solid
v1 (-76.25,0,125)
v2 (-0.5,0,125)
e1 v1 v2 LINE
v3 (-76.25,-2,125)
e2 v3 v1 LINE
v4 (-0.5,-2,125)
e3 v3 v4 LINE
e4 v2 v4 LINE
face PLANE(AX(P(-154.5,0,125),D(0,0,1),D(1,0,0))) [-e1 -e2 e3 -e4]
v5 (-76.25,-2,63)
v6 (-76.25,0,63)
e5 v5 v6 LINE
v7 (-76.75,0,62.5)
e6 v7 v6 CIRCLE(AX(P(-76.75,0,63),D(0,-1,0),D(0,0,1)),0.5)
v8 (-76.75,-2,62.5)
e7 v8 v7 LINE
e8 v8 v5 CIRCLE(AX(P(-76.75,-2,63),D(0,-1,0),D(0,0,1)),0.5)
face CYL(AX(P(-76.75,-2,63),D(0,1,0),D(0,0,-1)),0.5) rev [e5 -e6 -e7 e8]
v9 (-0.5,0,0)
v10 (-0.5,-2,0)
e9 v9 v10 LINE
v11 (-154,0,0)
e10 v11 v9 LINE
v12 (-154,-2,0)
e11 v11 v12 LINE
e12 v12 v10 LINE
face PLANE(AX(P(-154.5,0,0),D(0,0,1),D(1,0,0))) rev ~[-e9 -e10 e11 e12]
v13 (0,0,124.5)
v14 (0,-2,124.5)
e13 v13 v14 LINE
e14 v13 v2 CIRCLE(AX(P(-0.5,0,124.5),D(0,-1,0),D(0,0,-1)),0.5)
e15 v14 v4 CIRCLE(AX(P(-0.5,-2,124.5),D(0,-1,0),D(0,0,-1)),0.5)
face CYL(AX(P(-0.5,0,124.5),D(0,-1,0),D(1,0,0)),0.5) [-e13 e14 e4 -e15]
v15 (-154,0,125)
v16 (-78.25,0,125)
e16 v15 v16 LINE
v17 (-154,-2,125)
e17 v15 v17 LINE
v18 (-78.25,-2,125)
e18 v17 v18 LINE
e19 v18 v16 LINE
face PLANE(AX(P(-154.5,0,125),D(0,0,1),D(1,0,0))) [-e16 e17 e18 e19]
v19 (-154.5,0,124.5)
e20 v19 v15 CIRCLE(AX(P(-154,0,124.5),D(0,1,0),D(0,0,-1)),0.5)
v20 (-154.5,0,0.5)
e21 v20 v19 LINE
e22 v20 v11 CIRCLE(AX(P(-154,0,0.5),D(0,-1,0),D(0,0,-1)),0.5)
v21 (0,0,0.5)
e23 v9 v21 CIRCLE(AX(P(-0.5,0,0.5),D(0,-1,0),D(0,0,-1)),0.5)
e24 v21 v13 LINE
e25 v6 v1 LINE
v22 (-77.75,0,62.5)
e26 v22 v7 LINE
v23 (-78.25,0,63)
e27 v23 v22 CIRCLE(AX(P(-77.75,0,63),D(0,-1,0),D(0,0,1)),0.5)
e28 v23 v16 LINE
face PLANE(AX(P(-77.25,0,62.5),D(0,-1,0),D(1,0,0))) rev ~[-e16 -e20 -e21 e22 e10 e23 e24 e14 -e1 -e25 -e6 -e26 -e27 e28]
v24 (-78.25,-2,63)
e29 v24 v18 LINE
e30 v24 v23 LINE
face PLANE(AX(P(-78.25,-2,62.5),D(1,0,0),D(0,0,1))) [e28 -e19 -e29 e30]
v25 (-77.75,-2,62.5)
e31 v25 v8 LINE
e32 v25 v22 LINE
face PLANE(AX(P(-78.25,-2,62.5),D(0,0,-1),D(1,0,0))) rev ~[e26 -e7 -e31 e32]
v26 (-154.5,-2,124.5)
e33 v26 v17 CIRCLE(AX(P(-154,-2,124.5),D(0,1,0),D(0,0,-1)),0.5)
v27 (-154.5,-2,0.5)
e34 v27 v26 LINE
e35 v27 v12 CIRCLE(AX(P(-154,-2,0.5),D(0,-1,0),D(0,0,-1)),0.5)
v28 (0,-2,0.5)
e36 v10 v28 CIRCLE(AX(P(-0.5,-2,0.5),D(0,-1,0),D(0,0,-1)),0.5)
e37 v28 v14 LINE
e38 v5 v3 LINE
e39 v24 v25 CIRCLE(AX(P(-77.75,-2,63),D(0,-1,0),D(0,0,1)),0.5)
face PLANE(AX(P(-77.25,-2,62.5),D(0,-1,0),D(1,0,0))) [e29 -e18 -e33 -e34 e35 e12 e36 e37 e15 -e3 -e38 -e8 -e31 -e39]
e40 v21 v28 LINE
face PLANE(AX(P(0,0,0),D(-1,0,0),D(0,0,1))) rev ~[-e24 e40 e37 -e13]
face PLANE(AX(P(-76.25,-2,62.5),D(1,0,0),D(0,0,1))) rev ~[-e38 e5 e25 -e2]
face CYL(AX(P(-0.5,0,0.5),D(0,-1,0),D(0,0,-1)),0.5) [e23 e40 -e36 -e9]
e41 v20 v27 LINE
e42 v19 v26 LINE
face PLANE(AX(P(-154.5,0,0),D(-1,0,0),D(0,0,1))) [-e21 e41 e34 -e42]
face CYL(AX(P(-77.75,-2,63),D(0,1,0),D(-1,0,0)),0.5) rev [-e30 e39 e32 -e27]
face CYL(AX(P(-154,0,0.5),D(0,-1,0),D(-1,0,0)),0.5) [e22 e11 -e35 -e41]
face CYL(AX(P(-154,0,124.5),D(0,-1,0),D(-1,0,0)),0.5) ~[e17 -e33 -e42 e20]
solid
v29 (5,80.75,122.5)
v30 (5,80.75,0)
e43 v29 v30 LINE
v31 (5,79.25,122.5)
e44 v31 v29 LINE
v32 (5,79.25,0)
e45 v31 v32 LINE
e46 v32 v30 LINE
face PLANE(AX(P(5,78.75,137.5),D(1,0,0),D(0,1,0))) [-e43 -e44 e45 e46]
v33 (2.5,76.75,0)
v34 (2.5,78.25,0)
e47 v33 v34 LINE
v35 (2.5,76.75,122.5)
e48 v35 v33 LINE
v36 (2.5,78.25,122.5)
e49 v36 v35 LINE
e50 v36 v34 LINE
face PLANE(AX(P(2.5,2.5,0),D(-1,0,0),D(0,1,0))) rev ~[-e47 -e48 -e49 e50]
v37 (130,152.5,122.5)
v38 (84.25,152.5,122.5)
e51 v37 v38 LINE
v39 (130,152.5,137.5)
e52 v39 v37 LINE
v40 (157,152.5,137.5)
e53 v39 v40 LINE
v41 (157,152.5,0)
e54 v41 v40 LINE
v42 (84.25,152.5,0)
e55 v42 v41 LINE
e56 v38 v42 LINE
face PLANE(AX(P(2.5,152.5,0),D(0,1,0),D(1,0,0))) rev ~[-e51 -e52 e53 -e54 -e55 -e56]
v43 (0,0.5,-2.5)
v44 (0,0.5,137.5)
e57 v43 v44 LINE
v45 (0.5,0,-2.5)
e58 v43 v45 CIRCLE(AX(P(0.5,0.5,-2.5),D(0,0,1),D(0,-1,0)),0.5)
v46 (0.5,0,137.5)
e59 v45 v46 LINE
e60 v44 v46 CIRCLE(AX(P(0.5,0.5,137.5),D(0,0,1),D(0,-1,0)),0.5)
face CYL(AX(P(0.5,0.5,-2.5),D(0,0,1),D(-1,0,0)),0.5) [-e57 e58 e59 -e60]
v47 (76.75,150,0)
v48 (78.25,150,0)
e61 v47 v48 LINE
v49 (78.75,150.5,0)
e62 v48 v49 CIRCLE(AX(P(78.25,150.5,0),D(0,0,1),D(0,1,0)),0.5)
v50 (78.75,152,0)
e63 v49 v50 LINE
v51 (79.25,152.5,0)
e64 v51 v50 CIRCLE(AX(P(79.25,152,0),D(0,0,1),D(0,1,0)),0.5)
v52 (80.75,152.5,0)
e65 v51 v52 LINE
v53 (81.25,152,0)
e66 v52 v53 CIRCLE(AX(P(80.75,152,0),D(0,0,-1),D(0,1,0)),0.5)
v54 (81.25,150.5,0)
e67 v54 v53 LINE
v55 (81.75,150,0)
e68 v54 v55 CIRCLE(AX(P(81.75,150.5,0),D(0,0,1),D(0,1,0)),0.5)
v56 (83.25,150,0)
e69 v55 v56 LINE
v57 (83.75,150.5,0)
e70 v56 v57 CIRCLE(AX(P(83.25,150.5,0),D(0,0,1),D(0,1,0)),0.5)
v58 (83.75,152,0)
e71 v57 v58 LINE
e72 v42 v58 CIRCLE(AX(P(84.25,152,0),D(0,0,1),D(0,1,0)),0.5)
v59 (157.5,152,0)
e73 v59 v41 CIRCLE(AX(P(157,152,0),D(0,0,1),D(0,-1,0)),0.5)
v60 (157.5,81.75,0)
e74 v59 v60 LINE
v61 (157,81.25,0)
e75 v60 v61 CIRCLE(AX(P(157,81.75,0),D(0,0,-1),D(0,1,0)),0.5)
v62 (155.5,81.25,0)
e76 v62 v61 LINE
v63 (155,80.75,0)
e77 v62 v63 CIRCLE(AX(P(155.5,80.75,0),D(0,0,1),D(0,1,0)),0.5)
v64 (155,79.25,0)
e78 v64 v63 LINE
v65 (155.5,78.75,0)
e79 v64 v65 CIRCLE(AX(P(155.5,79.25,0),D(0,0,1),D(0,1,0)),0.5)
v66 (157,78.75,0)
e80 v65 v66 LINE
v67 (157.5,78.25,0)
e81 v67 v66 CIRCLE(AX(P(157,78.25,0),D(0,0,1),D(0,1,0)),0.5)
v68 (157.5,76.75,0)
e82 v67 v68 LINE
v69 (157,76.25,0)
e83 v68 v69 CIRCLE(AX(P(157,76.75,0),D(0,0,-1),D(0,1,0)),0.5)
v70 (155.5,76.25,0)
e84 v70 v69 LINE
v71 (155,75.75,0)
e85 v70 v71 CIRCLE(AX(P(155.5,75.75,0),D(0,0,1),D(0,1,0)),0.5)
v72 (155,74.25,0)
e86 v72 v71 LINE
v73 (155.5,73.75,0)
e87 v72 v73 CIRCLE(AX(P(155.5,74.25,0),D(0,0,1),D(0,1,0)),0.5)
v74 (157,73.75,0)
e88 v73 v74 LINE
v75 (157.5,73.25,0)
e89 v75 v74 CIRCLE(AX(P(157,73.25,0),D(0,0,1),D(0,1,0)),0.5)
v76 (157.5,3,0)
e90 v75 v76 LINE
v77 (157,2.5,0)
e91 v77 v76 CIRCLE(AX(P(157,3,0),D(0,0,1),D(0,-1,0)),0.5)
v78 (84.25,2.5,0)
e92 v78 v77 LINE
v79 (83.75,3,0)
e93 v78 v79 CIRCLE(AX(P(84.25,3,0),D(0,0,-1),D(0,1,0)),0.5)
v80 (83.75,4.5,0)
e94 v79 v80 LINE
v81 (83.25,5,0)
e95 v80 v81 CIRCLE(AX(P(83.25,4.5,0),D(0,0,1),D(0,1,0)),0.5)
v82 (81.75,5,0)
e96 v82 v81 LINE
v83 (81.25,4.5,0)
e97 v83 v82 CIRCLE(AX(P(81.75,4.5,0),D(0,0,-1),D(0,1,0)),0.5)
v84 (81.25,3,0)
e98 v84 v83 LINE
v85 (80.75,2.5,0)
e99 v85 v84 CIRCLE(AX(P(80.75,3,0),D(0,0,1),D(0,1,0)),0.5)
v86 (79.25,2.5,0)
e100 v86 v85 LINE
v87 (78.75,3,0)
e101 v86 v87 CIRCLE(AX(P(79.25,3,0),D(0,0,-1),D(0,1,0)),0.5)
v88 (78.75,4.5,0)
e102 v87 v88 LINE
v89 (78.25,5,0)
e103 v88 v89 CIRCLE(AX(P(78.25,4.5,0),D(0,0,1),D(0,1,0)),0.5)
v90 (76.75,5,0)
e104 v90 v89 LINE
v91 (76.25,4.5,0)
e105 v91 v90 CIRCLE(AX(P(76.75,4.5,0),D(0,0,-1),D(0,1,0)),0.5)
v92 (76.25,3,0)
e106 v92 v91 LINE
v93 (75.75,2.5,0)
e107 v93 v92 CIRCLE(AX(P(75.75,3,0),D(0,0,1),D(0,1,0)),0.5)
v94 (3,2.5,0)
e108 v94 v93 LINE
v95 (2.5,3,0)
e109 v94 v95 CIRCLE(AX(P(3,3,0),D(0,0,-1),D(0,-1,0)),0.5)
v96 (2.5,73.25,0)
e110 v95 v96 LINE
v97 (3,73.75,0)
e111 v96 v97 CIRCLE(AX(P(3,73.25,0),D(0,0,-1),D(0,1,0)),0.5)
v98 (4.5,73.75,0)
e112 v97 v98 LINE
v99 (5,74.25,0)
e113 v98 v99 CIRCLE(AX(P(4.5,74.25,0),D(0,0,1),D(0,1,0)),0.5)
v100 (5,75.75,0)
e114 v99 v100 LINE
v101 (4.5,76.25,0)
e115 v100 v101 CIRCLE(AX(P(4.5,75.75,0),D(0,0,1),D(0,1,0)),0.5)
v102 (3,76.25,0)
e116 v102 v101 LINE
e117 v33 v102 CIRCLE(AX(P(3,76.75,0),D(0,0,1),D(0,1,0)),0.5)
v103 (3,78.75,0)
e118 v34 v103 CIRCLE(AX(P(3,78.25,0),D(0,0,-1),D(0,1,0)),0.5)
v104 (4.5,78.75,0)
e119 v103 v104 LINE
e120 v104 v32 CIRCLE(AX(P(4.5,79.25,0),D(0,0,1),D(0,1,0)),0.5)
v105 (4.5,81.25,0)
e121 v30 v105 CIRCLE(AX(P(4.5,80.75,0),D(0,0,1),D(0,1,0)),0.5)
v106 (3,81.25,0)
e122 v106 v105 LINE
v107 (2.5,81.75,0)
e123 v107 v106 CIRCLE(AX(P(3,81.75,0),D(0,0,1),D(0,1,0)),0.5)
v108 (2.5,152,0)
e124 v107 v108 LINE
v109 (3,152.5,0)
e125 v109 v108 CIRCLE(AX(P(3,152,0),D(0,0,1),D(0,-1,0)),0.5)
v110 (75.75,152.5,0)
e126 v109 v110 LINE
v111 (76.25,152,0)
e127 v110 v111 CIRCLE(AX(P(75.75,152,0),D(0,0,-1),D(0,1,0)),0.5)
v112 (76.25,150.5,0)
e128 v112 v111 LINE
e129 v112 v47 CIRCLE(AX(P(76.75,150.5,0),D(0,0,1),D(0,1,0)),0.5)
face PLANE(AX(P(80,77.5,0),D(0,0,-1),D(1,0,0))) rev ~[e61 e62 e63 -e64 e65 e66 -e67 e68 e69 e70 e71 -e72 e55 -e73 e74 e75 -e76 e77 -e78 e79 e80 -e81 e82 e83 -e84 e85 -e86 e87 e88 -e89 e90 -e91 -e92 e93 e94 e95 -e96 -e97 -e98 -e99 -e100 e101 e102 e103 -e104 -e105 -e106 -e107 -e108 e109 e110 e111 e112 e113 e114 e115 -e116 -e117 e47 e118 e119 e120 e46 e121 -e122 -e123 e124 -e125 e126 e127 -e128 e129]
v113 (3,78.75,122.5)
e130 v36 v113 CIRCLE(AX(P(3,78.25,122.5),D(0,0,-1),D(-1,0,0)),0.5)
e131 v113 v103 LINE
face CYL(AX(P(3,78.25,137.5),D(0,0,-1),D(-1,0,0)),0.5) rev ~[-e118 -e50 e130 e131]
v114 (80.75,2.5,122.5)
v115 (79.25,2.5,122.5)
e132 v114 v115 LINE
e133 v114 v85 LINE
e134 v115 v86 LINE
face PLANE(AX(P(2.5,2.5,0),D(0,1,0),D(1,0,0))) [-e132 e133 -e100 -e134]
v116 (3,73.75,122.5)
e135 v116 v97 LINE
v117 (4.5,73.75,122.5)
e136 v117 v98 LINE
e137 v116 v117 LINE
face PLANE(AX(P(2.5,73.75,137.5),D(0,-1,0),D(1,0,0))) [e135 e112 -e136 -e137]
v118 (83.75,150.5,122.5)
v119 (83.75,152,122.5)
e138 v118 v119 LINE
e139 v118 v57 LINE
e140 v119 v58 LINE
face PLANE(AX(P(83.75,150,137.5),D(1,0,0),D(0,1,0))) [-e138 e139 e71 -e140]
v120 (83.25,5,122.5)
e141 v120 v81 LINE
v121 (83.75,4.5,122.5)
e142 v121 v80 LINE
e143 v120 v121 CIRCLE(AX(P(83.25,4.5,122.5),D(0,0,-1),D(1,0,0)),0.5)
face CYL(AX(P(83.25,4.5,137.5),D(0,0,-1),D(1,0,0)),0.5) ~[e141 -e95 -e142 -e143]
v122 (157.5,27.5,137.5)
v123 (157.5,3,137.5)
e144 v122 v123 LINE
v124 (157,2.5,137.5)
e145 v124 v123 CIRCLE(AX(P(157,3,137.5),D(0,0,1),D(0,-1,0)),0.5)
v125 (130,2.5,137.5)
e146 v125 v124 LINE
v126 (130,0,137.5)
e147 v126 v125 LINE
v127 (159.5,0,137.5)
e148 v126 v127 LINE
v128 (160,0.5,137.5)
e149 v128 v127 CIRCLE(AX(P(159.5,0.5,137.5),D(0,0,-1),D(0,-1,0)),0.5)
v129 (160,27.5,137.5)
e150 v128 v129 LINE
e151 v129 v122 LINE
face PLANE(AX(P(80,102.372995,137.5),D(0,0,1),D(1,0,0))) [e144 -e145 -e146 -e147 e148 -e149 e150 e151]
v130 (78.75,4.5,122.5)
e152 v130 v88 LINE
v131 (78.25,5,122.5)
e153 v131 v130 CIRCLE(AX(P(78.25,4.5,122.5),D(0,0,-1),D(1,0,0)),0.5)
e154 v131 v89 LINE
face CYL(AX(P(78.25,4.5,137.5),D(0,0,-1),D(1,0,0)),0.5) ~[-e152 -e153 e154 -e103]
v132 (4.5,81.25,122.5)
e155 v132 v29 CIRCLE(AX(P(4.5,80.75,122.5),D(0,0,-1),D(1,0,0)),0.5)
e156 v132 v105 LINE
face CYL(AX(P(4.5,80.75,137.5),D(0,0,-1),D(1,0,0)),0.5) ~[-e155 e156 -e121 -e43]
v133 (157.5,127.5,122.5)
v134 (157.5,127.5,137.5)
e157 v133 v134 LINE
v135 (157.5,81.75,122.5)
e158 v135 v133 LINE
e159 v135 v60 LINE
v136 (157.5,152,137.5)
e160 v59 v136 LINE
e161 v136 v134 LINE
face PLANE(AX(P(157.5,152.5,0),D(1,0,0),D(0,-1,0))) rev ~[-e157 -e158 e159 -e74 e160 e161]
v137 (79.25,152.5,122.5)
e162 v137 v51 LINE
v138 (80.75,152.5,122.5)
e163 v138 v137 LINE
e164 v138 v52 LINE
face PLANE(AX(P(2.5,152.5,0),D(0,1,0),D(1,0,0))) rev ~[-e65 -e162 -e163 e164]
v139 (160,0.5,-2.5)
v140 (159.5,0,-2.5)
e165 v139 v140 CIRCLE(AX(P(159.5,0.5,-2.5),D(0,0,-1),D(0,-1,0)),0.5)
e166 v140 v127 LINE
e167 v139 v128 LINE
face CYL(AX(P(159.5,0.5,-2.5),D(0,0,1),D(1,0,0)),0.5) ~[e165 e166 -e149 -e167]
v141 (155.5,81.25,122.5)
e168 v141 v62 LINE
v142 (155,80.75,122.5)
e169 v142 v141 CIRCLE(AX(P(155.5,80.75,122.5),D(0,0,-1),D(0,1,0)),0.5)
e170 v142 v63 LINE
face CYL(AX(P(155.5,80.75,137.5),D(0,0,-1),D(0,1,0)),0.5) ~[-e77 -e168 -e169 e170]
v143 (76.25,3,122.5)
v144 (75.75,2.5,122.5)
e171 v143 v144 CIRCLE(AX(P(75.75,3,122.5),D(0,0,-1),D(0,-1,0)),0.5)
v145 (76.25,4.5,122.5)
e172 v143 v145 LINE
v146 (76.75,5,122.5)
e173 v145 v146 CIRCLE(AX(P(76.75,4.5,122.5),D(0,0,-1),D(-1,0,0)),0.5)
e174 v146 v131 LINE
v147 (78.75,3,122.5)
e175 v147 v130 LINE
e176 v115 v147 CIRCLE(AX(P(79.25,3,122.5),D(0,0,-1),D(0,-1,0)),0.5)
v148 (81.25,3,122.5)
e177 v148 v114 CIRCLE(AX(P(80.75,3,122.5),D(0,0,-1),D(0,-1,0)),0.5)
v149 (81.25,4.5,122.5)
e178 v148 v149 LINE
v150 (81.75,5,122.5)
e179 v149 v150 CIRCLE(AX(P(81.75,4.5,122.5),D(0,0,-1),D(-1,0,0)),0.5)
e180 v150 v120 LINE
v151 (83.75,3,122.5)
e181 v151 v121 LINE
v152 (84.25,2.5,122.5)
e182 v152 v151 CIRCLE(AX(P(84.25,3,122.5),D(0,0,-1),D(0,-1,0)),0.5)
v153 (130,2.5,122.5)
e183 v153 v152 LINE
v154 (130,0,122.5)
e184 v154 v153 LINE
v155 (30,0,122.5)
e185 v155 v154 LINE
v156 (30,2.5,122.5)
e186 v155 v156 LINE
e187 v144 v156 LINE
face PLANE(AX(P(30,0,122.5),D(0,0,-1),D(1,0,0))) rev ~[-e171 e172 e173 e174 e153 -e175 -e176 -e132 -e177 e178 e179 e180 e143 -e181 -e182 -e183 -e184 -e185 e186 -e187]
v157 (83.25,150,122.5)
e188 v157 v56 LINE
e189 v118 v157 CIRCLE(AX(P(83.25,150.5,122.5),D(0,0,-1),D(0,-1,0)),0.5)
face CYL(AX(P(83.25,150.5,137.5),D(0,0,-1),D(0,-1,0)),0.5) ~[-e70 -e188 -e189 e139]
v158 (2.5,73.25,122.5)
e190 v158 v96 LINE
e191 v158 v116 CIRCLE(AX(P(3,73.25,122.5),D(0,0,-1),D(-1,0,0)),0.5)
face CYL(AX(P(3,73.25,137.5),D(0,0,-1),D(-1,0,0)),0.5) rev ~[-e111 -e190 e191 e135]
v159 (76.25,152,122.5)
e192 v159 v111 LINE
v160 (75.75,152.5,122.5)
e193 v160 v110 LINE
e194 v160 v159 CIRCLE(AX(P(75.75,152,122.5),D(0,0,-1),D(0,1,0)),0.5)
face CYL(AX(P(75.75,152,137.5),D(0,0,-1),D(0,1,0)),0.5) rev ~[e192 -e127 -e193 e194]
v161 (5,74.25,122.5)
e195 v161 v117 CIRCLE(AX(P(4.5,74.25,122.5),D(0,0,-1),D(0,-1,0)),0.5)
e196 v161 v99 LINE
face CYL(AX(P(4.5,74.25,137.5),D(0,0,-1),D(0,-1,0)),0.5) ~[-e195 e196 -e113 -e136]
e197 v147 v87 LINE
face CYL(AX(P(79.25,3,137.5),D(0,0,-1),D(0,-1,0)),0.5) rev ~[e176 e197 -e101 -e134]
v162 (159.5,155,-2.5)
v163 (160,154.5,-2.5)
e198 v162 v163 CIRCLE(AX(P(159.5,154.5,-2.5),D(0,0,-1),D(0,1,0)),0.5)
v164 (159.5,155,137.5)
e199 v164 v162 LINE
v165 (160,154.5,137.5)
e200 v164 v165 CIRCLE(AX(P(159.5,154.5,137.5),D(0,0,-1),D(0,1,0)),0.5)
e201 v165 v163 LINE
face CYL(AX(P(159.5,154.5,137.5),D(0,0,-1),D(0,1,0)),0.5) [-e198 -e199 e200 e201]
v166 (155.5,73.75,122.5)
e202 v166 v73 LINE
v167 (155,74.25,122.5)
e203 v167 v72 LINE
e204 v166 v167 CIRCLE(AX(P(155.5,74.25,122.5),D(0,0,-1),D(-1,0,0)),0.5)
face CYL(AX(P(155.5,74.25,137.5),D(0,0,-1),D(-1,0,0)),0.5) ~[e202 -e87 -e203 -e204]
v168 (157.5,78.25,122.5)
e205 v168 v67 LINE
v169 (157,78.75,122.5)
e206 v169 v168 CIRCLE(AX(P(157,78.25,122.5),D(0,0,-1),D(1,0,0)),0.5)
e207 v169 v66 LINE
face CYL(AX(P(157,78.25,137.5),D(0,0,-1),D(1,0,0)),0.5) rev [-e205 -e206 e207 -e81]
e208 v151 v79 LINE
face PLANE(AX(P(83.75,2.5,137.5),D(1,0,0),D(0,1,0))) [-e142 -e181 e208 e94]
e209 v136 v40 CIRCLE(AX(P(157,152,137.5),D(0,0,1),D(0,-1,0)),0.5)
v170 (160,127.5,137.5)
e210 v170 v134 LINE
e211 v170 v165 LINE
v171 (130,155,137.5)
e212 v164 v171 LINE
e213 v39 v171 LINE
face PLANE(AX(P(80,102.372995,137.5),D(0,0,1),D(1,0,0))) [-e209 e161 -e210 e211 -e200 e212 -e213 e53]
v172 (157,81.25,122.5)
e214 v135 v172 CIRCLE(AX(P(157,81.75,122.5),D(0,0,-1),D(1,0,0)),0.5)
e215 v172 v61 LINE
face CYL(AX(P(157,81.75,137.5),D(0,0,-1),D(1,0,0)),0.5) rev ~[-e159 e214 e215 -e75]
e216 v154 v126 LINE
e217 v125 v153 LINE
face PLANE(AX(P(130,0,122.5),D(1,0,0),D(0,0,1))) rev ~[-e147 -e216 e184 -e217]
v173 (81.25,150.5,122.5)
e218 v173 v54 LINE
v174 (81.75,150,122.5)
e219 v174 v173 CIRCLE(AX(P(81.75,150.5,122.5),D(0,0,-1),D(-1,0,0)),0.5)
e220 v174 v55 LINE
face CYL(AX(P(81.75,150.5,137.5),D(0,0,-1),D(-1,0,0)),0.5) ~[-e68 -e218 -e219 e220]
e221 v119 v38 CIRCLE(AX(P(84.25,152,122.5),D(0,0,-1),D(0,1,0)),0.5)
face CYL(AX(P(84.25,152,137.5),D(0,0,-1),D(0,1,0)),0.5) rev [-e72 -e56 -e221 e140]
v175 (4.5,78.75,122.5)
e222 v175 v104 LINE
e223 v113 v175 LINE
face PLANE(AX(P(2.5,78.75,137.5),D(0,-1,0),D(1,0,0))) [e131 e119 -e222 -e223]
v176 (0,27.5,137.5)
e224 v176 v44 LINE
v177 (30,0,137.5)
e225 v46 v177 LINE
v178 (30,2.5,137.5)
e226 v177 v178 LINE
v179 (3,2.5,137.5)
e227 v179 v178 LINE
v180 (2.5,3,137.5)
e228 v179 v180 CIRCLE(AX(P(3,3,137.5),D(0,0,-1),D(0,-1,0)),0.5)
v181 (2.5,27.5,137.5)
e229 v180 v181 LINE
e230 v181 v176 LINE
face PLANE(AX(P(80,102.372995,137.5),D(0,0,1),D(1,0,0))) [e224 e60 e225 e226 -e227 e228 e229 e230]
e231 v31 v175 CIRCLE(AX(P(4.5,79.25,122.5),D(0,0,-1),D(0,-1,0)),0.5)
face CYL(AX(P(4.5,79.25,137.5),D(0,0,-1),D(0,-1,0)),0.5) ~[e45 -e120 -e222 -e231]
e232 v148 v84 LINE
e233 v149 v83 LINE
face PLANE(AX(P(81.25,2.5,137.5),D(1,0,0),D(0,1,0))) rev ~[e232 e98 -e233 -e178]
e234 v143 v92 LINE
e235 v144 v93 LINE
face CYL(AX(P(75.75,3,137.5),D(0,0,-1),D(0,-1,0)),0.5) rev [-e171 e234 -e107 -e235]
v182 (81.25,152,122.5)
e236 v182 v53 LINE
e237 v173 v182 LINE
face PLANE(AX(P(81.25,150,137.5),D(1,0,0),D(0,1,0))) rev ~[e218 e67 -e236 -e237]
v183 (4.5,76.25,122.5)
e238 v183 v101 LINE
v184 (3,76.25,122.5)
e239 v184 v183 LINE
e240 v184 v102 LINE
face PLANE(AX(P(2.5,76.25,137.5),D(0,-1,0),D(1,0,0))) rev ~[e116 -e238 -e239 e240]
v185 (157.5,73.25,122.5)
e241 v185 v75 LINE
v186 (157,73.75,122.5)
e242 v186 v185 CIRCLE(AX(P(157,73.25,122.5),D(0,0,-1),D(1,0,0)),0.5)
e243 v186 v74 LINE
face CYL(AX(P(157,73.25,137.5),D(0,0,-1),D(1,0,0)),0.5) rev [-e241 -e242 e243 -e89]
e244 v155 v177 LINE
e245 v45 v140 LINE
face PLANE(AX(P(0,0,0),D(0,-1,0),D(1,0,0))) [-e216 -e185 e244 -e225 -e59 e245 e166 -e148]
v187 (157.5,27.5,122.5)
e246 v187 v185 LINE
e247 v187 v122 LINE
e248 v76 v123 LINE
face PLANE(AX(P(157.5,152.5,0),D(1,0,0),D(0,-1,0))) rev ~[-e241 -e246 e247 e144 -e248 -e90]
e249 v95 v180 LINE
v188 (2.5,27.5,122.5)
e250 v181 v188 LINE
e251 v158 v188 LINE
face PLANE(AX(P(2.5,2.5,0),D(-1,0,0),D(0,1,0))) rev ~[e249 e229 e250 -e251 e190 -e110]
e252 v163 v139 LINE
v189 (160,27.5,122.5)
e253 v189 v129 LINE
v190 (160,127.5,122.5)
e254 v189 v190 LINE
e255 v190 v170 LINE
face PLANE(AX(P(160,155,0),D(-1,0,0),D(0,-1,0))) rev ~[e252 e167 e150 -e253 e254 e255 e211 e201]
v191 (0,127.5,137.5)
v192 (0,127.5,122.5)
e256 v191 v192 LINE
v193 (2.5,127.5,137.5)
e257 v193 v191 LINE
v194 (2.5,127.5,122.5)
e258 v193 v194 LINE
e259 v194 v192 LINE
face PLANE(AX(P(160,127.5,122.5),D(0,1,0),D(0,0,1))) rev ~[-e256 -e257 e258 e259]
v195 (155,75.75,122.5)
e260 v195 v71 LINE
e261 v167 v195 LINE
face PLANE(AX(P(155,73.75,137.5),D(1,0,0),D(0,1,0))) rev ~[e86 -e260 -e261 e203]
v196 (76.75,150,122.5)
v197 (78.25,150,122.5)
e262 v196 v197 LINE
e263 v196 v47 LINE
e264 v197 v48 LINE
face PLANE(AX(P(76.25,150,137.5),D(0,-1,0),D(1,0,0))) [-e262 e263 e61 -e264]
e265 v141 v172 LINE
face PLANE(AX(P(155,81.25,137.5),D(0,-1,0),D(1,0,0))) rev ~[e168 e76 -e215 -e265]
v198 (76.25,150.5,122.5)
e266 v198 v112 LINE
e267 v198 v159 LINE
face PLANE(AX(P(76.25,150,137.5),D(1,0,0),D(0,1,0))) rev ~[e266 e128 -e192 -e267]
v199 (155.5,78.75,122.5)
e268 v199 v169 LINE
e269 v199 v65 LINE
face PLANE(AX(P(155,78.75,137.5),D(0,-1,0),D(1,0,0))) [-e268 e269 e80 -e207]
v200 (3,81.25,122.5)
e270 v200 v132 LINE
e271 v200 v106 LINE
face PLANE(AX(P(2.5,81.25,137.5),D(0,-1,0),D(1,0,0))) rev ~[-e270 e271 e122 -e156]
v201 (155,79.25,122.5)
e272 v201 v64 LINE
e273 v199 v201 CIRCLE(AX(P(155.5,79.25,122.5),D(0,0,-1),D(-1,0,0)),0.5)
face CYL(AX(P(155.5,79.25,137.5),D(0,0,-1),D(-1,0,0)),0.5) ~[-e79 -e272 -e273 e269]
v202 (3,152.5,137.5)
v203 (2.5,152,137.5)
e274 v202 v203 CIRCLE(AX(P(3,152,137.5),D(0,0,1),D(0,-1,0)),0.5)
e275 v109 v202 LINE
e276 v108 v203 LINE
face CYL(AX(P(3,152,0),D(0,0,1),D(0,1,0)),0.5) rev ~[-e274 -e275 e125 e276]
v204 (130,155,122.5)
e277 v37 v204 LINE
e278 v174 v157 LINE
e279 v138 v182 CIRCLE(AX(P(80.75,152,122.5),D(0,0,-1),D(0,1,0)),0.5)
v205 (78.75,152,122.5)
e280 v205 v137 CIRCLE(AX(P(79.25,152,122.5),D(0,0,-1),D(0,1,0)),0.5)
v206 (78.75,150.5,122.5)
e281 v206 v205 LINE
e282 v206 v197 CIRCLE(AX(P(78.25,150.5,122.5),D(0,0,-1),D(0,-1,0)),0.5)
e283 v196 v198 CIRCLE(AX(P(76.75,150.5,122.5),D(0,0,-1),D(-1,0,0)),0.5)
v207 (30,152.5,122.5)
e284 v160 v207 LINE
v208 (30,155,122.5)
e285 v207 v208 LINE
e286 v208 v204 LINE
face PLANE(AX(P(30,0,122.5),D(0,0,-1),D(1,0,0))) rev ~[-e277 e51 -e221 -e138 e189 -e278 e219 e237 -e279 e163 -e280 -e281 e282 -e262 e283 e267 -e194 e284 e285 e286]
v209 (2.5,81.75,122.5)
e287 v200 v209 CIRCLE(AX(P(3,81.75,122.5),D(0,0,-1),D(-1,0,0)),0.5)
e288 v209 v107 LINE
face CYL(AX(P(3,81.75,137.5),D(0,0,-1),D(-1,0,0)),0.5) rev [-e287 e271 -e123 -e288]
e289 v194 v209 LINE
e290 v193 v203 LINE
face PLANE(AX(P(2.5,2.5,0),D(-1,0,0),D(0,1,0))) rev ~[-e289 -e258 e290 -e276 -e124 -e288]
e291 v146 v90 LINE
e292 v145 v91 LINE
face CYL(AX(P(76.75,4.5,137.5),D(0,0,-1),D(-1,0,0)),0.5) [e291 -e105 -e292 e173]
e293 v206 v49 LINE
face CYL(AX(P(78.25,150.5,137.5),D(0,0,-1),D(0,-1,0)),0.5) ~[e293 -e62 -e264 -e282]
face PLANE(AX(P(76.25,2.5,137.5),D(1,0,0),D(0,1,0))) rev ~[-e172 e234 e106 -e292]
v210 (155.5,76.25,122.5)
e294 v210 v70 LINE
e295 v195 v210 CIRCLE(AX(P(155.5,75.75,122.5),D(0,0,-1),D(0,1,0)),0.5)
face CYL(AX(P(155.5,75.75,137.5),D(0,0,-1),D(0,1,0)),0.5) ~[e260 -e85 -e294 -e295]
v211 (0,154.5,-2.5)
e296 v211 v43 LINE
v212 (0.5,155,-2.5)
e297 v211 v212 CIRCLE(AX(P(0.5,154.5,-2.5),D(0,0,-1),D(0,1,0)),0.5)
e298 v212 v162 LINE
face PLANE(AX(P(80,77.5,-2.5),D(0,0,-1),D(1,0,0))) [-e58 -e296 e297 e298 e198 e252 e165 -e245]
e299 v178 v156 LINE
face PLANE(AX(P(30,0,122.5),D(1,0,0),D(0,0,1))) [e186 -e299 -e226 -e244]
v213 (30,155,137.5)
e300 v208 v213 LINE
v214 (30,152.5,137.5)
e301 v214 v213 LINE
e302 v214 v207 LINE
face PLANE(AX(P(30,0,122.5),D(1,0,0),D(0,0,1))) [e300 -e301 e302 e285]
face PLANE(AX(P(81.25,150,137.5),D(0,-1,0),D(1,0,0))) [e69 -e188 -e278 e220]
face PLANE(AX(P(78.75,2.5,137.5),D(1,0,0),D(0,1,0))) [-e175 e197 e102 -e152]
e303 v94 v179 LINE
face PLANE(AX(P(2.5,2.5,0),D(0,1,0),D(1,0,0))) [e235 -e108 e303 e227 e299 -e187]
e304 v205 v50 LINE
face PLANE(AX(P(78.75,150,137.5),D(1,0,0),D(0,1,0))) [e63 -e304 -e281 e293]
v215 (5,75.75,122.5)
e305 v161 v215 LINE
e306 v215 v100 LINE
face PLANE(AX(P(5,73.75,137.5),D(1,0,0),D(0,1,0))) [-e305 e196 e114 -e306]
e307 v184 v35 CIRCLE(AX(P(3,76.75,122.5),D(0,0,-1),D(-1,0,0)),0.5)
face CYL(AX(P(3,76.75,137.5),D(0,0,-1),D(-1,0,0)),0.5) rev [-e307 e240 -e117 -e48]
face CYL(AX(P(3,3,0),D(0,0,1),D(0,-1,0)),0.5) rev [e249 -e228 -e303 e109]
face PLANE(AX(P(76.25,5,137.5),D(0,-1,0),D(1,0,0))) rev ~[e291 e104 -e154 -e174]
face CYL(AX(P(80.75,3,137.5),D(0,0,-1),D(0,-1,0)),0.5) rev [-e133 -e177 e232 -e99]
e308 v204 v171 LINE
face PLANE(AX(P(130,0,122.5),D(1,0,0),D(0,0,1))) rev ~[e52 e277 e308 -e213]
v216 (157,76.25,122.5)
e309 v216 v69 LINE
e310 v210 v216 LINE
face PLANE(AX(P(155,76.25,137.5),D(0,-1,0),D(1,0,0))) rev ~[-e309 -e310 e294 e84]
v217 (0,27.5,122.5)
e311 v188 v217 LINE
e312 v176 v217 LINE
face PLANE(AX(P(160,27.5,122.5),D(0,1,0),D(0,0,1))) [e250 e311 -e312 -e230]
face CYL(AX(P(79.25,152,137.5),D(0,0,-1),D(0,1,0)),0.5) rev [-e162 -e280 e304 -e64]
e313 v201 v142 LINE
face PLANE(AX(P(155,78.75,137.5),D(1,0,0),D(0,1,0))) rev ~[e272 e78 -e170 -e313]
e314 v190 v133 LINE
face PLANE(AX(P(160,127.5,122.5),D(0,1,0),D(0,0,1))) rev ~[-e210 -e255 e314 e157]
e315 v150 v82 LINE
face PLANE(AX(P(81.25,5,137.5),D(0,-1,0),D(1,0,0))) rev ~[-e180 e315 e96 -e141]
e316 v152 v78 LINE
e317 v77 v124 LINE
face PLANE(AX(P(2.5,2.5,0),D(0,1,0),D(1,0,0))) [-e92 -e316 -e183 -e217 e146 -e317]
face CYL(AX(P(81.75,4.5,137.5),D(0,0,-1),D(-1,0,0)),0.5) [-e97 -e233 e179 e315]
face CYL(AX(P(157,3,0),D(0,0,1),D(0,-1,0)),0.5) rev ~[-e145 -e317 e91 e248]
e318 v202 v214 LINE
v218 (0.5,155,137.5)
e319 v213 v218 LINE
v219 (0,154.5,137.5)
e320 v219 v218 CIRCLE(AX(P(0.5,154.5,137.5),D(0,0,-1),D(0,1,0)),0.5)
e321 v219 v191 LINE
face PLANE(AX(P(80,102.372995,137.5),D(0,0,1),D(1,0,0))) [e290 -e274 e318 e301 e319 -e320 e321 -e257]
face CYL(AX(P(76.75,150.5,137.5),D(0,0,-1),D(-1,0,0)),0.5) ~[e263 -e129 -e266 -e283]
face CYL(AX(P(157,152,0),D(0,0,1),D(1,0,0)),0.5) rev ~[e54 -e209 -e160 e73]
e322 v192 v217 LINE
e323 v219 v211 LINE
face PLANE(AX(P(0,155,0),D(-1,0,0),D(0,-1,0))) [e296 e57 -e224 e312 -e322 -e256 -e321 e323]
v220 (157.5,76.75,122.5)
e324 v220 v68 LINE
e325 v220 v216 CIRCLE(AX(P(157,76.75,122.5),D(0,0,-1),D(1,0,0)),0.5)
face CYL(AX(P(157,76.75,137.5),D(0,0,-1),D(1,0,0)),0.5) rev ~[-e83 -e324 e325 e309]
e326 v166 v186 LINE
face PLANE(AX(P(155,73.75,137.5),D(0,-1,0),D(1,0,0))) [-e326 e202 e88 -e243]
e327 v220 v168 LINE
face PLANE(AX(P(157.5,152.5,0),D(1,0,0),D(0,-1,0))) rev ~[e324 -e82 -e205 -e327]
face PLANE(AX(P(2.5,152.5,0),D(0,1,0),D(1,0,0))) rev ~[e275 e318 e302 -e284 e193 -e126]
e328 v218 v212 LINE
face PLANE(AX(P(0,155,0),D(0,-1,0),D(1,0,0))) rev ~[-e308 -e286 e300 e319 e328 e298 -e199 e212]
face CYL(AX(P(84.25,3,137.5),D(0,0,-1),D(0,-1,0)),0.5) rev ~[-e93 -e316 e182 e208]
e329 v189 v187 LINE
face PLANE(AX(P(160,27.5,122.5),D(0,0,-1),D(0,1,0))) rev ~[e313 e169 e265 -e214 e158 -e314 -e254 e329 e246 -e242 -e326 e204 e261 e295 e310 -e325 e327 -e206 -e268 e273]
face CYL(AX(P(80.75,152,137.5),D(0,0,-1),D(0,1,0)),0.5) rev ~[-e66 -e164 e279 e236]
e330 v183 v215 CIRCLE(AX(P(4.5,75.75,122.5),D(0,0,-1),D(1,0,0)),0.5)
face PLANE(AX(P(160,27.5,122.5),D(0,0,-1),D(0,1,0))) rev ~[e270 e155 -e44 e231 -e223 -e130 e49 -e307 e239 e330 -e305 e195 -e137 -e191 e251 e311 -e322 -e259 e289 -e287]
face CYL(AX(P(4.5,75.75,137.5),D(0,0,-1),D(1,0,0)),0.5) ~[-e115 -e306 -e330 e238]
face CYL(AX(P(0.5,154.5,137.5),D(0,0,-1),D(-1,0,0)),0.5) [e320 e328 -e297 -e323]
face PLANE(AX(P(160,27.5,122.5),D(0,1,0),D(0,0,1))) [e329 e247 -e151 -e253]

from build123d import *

# Parameters (mm, degrees)
F0_W      = 155
F0_H      = 2.5
F1_DEPTH  = 137.5
F2_W      = 160
F2_H      = 155
F2_W_2    = 155
F2_H_2    = 150
F3_DEPTH  = 2.5
F4_R      = 0.5
F5_W      = 2.5
F5_H      = 2.5
F6_DEPTH  = 137.5
F7_R      = 0.5
F8_W      = 154.5
F8_H      = 125
F9_DEPTH  = 2
F10_R     = 0.5
F12_ANGLE = 90
F15_W     = 2
F15_H     = 62.5
F16_DEPTH = 157.001
F17_R     = 0.5
F18_W     = 100
F18_H     = 15
F19_DEPTH = 155.001
F20_W     = 100
F20_H     = 15
F21_DEPTH = 314.501


with BuildPart() as f1:
    # F0 (on Top) → F1 (new body)
    with BuildSketch(Plane.XY):
        Polygon((0, 155), (0, 0), (2.5, 0), (2.5, 2.5), (2.5, 152.5), (157.5, 152.5), (157.5, 2.5), (157.5, 0), (160, 0), (160, 155), align=None)
        with Locations((80, 1.25)):
            Rectangle(F0_W, F0_H)
    extrude(amount=F1_DEPTH)

    # F2 (on face) → F3 (join)
    with BuildSketch(Plane(origin=(0, 0, 0), x_dir=(1, 0, 0), z_dir=(0, 0, -1))):
        with Locations((80, -77.5)):
            Rectangle(F2_W, F2_H)
        with Locations((80, -77.5)):
            Rectangle(F2_W_2, F2_H_2, mode=Mode.SUBTRACT)
        with Locations((80, -77.5)):
            Rectangle(F2_W_2, F2_H_2)
    extrude(amount=F3_DEPTH)

    # F4
    f4_edges = [f1.edges().sort_by_distance(p)[0] for p in [
        (0, 155, 67.5),
        (160, 155, 67.5),
        (160, 0, 67.5),
        (0, 0, 67.5),
        (2.5, 152.5, 68.75),
        (157.5, 152.5, 68.75),
        (157.5, 2.5, 68.75),
        (2.5, 2.5, 68.75),
    ]]
    fillet(f4_edges, radius=F4_R)

    # F5 (on face) → F6 (join, through all)
    with BuildSketch(Plane.XY.offset(137.5)):
        with Locations((3.75, 80)):
            Rectangle(F5_W, F5_H)
        with Locations((3.75, 75)):
            Rectangle(F5_W, F5_H)
        with Locations((77.5, 3.75)):
            Rectangle(F5_W, F5_H)
        with Locations((82.5, 3.75)):
            Rectangle(F5_W, F5_H)
        with Locations((156.25, 80)):
            Rectangle(F5_W, F5_H)
        with Locations((156.25, 75)):
            Rectangle(F5_W, F5_H)
        with Locations((82.5, 151.25)):
            Rectangle(F5_W, F5_H)
        with Locations((77.5, 151.25)):
            Rectangle(F5_W, F5_H)
    extrude(amount=-F6_DEPTH)

    # F7
    f7_edges = [f1.edges().sort_by_distance(p)[0] for p in [
        (5, 81.25, 68.75),
        (5, 78.75, 68.75),
        (2.5, 78.75, 68.75),
        (2.5, 76.25, 68.75),
        (5, 76.25, 68.75),
        (5, 73.75, 68.75),
        (2.5, 73.75, 68.75),
        (2.5, 81.25, 68.75),
        (76.25, 150, 68.75),
        (78.75, 150, 68.75),
        (78.75, 152.5, 68.75),
        (81.25, 152.5, 68.75),
        (81.25, 150, 68.75),
        (83.75, 150, 68.75),
        (83.75, 152.5, 68.75),
        (76.25, 152.5, 68.75),
        (157.5, 73.75, 68.75),
        (155, 73.75, 68.75),
        (155, 76.25, 68.75),
        (157.5, 81.25, 68.75),
        (155, 81.25, 68.75),
        (155, 78.75, 68.75),
        (157.5, 78.75, 68.75),
        (157.5, 76.25, 68.75),
        (76.25, 2.5, 68.75),
        (76.25, 5, 68.75),
        (78.75, 5, 68.75),
        (78.75, 2.5, 68.75),
        (81.25, 5, 68.75),
        (81.25, 2.5, 68.75),
        (83.75, 2.5, 68.75),
        (83.75, 5, 68.75),
    ]]
    fillet(f7_edges, radius=F7_R)

    # F18 (on face) → F19 (cut, through all)
    with BuildSketch(Plane.XZ):
        with Locations((80, 130)):
            Rectangle(F18_W, F18_H)
    extrude(amount=-F19_DEPTH, mode=Mode.SUBTRACT)

    # F20 (on face) → F21 (cut, through all)
    with BuildSketch(Plane.YZ.offset(160)):
        with Locations((77.5, 130)):
            Rectangle(F20_W, F20_H)
    extrude(amount=-F21_DEPTH, mode=Mode.SUBTRACT)


with BuildPart() as f9:
    # F8 (on Front) → F9 (new body)
    with BuildSketch(Plane.XZ):
        with Locations((-77.25, 62.5)):
            Rectangle(F8_W, F8_H)
    extrude(amount=F9_DEPTH)

    # F10
    f10_edges = [f9.edges().sort_by_distance(p)[0] for p in [
        (0, -1, 0),
        (0, -1, 125),
        (-154.5, -1, 125),
        (-154.5, -1, 0),
    ]]
    fillet(f10_edges, radius=F10_R)


with BuildPart() as f11_1:
    # F11: copy of F9
    add(f9.part)


with BuildPart() as f12_1:
    # F12: copy of F9
    add(f9.part.rotate(Axis((0, 154.5, 67.5), (0, 0, 1)), F12_ANGLE))


with BuildPart() as f9_1:
    add(f9.part)

    # F15 (on face) → F16 (cut, through all)
    with BuildSketch(Plane.XZ.offset(2)):
        with Locations((-77.25, 93.75)):
            Rectangle(F15_W, F15_H)
    extrude(amount=-F16_DEPTH, mode=Mode.SUBTRACT)

    # F17
    f17_edges = [f9_1.edges().sort_by_distance(p)[0] for p in [
        (-78.25, -1, 62.5),
        (-76.25, -1, 62.5),
    ]]
    fillet(f17_edges, radius=F17_R)


solid = Compound([f1.part, f9_1.part])
